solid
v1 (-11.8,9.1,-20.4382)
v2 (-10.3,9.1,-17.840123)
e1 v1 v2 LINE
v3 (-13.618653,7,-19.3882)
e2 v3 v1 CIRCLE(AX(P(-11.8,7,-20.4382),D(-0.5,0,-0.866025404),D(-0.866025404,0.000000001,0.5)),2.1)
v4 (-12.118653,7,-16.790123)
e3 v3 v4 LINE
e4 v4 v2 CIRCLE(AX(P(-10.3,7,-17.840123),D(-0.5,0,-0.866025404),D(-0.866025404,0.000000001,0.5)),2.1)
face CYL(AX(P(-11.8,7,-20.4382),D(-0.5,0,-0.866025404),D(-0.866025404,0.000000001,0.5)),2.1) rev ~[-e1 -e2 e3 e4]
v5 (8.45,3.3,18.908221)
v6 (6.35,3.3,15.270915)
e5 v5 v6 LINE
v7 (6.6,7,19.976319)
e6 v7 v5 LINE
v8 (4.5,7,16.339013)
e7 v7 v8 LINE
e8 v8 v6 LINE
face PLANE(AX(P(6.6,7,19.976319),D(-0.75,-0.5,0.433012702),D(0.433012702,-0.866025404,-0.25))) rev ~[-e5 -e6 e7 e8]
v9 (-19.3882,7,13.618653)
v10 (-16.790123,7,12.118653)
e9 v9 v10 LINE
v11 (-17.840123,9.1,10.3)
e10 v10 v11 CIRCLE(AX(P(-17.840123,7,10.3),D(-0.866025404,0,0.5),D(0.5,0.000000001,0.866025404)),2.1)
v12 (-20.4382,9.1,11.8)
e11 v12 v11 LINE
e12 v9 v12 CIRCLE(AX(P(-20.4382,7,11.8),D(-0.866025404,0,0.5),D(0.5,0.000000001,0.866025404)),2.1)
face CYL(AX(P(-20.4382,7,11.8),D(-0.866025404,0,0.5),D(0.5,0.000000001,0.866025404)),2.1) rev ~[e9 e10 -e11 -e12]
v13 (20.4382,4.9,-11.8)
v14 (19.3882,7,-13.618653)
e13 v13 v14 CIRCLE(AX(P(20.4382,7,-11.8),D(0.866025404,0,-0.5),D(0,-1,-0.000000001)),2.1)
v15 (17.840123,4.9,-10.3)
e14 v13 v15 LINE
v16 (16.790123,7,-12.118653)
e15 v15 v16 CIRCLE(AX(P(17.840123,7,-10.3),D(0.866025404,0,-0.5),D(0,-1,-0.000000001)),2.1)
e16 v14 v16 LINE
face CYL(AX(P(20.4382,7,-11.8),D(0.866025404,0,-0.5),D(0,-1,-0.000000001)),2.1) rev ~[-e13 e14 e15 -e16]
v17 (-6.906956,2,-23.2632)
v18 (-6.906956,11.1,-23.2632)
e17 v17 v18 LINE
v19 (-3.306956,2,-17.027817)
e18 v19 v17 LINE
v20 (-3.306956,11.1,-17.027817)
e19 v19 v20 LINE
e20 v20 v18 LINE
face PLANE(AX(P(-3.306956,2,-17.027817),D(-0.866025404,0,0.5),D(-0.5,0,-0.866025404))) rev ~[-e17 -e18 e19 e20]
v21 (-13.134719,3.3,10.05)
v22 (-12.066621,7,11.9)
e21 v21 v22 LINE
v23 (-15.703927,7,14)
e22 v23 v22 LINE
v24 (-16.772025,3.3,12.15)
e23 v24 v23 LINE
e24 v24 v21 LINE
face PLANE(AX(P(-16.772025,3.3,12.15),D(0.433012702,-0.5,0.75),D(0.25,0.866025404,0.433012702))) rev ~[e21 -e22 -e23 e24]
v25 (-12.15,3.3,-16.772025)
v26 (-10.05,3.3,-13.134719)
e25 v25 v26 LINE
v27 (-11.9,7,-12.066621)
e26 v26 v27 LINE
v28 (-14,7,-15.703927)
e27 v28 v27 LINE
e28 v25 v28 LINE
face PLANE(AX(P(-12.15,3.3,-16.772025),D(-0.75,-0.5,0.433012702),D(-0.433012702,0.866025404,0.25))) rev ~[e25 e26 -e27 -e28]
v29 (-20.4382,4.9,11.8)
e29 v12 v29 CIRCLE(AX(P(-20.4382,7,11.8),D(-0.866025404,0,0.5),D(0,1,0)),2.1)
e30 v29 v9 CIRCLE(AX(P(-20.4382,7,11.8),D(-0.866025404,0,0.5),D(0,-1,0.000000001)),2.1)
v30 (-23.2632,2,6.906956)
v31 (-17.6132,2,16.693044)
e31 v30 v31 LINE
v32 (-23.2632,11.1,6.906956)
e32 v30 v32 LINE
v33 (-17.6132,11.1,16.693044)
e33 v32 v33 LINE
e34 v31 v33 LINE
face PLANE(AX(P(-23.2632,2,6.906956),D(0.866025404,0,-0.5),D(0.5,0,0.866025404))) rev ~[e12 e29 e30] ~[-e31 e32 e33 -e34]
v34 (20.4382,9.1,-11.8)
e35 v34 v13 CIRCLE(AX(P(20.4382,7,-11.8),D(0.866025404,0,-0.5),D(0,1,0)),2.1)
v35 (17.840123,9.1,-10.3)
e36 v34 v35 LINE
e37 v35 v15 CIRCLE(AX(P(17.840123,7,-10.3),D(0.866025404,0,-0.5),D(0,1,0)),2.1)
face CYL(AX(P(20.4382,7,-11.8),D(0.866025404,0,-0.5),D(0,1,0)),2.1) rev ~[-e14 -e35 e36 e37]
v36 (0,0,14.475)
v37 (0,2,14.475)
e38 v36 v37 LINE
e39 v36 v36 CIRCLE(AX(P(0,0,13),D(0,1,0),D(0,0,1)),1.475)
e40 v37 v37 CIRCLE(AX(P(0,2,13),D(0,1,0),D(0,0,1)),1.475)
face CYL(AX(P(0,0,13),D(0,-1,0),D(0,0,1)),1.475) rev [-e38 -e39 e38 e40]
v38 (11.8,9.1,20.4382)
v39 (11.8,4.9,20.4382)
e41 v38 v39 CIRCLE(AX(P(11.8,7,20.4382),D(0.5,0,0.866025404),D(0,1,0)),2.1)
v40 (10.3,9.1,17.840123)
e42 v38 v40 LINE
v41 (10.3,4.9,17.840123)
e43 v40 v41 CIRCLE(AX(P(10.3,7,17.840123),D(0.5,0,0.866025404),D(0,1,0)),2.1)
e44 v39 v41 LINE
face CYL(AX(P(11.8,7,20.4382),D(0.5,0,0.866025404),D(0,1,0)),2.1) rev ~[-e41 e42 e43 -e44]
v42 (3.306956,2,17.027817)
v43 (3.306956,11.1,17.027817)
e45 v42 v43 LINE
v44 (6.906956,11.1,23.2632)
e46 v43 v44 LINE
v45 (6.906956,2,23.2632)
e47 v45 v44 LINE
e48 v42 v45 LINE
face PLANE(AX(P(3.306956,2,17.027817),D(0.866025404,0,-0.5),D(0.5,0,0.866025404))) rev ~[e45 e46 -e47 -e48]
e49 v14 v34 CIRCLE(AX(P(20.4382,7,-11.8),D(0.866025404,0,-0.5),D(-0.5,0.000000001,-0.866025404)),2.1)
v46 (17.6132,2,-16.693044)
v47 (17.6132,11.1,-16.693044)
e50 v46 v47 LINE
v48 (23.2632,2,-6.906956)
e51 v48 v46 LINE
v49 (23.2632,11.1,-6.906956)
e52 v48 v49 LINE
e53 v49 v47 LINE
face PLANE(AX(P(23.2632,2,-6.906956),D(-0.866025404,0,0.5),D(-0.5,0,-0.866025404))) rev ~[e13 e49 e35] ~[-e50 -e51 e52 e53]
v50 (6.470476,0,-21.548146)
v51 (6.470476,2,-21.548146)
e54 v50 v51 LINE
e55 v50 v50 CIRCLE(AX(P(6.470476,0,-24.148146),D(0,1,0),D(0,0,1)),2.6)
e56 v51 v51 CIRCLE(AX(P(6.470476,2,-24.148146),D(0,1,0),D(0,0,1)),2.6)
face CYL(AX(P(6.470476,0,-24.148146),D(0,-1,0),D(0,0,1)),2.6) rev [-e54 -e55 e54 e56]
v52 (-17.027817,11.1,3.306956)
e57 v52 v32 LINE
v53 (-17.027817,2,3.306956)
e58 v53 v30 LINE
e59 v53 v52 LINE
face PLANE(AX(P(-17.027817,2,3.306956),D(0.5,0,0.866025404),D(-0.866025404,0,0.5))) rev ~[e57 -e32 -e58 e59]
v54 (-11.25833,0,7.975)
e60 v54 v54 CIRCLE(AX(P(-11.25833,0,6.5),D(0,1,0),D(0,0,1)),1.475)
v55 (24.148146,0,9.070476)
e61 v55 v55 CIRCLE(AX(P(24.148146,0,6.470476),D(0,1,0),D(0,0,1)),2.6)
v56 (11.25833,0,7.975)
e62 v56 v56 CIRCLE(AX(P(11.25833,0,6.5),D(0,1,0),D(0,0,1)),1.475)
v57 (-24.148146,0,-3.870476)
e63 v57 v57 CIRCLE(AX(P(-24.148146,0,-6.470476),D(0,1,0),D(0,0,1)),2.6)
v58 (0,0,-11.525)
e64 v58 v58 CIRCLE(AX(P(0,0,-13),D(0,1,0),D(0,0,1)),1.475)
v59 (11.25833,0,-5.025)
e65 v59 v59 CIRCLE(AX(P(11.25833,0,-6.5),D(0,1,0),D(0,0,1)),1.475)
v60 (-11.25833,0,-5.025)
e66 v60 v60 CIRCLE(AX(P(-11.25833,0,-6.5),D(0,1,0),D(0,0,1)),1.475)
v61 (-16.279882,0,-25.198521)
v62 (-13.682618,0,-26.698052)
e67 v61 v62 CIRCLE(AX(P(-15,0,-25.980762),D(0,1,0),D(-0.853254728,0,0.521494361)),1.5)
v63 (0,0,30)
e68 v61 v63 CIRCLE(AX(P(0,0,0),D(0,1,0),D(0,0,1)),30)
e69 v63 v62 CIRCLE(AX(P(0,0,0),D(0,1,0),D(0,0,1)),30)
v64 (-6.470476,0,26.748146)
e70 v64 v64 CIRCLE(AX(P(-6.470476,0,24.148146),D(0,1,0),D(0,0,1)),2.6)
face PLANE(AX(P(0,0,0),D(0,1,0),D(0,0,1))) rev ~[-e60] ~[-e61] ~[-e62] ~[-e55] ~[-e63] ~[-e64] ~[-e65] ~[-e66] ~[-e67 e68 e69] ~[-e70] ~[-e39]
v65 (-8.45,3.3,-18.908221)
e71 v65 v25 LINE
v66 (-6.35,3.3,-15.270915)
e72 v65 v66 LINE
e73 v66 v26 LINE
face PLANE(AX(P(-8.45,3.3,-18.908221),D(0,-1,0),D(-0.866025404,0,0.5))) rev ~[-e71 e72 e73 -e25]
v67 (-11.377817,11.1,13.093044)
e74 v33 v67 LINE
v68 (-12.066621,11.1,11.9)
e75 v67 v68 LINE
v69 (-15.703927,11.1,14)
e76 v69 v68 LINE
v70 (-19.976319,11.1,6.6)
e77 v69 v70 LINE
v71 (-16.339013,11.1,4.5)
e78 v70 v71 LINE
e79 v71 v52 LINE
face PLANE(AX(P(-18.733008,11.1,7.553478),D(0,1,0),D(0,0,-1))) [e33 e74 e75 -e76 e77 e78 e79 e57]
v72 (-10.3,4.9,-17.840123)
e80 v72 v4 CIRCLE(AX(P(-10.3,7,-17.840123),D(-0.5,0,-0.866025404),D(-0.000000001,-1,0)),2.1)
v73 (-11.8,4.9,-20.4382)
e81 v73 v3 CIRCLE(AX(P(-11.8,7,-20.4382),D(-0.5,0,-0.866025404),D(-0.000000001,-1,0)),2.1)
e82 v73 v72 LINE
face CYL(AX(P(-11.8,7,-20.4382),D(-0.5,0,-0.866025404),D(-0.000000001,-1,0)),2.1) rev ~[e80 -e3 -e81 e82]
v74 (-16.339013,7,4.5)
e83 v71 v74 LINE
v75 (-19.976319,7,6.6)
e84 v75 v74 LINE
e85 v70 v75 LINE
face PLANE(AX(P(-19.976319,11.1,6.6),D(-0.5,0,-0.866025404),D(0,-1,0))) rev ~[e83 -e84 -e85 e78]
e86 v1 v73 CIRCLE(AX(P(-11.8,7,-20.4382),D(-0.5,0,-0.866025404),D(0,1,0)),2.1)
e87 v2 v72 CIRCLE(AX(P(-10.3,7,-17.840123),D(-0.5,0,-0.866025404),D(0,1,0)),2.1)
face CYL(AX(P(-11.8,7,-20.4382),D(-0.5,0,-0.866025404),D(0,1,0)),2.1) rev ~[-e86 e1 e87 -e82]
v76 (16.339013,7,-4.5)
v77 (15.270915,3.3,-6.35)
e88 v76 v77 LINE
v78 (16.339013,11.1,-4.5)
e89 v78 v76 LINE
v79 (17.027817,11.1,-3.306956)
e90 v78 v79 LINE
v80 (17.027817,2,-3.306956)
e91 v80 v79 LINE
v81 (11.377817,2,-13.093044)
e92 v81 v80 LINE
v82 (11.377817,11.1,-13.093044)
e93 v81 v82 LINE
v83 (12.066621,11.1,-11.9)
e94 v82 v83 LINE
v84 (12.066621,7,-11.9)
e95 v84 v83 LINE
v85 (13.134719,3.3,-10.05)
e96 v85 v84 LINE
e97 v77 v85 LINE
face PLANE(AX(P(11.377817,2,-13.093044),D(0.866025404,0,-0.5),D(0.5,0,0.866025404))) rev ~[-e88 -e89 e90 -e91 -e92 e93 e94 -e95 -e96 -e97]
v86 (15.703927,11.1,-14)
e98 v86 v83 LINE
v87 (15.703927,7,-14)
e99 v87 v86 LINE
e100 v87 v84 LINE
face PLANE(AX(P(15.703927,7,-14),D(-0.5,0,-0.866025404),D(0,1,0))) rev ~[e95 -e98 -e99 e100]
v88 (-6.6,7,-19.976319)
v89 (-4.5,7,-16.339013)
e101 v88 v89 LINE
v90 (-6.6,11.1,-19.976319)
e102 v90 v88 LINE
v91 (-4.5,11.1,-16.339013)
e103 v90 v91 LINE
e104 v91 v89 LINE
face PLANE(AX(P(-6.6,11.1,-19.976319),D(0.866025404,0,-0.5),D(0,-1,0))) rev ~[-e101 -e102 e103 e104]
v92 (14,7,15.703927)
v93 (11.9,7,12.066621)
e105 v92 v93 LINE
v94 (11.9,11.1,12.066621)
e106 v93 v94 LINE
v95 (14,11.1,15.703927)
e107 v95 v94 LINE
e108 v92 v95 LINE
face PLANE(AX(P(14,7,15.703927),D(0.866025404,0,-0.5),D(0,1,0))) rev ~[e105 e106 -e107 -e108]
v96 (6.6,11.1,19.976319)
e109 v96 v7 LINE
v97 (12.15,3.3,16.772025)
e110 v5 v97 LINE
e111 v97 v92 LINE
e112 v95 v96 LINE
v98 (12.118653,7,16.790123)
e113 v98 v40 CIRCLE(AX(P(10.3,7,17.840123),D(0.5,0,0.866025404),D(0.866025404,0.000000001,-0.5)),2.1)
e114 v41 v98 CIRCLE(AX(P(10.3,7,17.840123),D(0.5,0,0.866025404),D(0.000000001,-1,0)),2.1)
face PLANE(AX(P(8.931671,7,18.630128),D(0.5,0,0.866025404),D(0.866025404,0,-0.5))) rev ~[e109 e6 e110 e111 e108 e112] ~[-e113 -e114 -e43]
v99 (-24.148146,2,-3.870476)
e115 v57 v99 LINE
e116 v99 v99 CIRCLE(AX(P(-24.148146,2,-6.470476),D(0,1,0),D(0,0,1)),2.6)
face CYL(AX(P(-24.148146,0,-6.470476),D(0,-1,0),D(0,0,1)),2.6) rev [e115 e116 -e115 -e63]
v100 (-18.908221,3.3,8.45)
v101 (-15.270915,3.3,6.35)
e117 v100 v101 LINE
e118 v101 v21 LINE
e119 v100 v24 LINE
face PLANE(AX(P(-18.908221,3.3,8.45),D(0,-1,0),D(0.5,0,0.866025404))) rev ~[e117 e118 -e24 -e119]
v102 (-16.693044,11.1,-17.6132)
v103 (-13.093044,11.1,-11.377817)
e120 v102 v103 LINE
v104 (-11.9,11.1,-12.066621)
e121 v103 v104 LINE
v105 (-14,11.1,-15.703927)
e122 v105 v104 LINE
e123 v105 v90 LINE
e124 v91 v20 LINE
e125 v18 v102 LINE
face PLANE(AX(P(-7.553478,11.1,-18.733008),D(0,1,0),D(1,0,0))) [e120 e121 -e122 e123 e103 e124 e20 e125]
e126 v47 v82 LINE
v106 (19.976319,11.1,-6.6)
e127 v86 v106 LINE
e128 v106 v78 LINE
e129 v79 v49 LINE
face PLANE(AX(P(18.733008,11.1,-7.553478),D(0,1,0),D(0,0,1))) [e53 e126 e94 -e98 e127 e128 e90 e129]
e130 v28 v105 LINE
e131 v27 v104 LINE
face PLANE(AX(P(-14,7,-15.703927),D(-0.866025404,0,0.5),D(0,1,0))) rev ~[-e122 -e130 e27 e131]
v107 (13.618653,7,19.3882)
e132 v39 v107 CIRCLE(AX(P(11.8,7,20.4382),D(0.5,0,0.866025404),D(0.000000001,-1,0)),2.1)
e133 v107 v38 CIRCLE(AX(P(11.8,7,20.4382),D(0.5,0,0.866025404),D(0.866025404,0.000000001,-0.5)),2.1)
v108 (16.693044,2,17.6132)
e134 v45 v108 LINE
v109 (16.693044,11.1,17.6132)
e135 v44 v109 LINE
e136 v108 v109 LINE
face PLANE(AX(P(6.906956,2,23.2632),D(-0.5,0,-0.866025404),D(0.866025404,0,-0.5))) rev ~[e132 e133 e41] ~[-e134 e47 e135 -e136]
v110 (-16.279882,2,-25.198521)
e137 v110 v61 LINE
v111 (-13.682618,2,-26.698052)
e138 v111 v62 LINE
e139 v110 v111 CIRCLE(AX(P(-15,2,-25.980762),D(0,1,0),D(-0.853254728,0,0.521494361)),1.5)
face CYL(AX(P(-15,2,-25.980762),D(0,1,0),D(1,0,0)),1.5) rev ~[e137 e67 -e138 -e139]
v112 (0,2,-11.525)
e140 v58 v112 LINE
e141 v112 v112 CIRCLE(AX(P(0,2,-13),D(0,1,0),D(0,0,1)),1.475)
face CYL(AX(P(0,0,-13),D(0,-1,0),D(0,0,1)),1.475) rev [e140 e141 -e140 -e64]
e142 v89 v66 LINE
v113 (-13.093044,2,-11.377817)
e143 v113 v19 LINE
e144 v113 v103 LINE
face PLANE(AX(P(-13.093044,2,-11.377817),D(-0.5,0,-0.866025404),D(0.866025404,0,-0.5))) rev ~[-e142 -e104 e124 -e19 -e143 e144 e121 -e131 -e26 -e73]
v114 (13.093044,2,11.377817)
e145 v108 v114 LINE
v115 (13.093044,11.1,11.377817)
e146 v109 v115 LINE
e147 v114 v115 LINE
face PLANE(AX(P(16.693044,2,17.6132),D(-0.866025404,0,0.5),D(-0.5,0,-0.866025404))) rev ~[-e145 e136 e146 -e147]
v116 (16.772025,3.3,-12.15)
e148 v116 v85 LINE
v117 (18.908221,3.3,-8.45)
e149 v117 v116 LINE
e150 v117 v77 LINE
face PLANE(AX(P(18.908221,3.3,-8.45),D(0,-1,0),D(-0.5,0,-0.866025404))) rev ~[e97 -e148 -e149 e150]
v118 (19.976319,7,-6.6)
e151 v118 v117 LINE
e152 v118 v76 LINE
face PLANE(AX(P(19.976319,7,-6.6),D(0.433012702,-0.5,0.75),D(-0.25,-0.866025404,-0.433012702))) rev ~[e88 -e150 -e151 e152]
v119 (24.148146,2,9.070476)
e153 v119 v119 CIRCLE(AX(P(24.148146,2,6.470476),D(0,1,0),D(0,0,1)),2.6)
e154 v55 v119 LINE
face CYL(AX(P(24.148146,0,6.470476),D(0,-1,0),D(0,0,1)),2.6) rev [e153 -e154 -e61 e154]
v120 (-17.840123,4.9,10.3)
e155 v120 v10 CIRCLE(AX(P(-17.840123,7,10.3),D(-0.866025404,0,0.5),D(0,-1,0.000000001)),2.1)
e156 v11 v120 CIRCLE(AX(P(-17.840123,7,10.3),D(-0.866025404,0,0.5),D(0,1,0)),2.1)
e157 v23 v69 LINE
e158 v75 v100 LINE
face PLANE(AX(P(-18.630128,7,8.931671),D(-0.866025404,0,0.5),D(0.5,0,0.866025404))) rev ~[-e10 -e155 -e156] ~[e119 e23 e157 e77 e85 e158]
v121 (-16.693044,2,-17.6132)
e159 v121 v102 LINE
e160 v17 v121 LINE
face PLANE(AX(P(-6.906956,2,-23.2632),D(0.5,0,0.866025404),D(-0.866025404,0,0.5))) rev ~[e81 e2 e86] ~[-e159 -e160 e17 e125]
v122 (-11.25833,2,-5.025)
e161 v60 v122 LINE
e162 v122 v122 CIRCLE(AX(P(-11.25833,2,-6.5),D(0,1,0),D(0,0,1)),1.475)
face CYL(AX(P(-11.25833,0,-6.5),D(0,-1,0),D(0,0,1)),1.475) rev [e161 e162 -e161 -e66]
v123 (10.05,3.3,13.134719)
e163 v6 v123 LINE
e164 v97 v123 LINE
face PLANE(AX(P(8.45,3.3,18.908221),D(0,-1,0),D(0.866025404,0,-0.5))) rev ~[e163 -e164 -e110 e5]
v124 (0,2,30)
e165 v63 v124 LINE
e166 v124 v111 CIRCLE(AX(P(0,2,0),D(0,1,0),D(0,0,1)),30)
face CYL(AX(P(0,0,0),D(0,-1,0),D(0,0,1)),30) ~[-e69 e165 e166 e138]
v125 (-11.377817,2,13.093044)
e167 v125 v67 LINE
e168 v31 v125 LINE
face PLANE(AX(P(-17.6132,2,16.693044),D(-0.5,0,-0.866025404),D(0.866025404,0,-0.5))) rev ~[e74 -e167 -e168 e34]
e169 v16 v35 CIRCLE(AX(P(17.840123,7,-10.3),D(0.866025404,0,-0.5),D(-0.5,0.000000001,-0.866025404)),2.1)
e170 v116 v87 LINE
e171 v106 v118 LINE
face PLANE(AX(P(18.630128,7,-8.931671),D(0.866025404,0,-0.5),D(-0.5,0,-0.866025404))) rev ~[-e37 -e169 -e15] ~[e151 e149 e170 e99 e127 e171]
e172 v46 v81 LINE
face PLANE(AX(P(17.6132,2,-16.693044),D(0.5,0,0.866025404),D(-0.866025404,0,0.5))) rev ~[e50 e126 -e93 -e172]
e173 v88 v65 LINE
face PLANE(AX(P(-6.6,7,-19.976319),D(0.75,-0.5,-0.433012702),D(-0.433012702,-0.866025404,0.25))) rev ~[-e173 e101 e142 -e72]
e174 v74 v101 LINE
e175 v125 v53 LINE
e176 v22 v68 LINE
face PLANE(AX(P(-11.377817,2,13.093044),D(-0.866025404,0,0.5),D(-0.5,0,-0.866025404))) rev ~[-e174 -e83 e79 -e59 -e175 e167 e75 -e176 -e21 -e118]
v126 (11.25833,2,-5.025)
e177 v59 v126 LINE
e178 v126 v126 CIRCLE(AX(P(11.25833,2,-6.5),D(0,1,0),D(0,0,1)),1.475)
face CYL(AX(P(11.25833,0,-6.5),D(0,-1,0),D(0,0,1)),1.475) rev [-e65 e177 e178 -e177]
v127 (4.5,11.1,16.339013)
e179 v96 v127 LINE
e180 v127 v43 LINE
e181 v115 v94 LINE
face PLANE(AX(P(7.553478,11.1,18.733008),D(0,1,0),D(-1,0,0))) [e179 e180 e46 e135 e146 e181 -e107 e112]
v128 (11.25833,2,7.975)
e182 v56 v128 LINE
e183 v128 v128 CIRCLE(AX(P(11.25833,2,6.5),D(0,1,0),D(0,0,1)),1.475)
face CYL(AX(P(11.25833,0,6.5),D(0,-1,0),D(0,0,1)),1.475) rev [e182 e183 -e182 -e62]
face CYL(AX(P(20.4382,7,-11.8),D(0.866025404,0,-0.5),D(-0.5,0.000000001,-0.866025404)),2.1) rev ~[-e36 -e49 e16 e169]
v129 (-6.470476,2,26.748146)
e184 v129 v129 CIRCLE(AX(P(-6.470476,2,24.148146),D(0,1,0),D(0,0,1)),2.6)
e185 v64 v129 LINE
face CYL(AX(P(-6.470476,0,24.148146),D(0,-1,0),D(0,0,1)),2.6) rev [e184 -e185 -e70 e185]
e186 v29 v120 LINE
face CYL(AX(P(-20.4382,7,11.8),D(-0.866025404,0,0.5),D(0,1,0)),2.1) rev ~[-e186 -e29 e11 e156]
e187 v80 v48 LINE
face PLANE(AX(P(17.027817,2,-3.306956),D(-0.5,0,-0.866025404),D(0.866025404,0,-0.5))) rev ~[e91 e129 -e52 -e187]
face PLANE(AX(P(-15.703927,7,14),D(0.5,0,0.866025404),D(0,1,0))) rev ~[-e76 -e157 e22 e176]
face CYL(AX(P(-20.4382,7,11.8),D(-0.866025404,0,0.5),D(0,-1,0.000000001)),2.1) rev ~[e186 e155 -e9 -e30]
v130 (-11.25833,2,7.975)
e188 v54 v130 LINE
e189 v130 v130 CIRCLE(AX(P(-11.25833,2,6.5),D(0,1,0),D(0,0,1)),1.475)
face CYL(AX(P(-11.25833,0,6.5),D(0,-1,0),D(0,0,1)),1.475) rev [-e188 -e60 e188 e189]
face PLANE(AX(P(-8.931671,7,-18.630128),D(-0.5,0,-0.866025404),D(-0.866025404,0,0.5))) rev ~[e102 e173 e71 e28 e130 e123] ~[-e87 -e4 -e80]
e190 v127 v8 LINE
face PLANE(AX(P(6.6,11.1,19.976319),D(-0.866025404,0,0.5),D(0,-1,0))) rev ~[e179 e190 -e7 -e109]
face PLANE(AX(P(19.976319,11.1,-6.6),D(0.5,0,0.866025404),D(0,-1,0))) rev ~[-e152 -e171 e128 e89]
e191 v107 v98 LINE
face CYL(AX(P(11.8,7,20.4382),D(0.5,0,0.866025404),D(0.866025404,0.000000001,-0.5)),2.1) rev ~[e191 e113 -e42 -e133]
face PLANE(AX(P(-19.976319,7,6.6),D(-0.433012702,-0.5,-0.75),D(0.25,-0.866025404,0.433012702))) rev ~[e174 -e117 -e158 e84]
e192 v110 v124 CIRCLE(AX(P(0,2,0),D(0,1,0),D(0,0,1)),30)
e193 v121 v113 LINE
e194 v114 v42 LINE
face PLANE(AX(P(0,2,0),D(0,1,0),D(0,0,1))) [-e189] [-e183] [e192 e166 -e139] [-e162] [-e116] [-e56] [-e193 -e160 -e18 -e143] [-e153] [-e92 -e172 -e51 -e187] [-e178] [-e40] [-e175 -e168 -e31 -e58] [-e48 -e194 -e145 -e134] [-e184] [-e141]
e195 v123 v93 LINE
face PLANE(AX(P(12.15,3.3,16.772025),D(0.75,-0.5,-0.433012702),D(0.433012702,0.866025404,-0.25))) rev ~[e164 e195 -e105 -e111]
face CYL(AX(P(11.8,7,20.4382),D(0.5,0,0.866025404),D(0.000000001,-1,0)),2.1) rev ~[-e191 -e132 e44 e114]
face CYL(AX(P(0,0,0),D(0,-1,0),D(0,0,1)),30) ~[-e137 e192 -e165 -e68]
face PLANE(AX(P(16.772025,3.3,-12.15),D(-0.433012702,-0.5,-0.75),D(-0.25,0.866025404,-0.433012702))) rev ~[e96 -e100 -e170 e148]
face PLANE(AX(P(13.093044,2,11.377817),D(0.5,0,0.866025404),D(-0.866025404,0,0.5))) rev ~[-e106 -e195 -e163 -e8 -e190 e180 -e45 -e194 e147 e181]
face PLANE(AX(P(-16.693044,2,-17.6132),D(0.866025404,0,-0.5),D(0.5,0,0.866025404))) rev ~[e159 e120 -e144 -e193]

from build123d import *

# Parameters (mm, degrees)
SKETCH1_R           = 30
SKETCH1_R_2         = 1.475
SKETCH1_R_3         = 2.6
BOSS_EXTRUDE1_DEPTH = 2
SKETCH2_R           = 1.5
CUT_EXTRUDE1_DEPTH  = 10
BOSS_EXTRUDE3_DEPTH = 9.1
CIRPATTERN1_COUNT   = 4
CUT_EXTRUDE2_START  = -3
CUT_EXTRUDE2_DEPTH  = 5
CUT_EXTRUDE3_DEPTH  = 15
CIRPATTERN2_COUNT   = 4
CIRPATTERN3_COUNT   = 4


with BuildPart() as part:
    # Sketch1 → Boss-Extrude1 (new body)
    with BuildSketch(Plane(origin=(0, 0, 0), x_dir=(1, 0, 0), z_dir=(0, 1, 0))):
        with Locations(Location((0, 0, 0), (0, 0, 270))):
            Circle(SKETCH1_R)
        with Locations(Location((0, 13, 0), (0, 0, 270))):
            Circle(SKETCH1_R_2, mode=Mode.SUBTRACT)
        with Locations(Location((11.258330249, 6.5, 0), (0, 0, 270))):
            Circle(SKETCH1_R_2, mode=Mode.SUBTRACT)
        with Locations(Location((11.258330249, -6.5, 0), (0, 0, 270))):
            Circle(SKETCH1_R_2, mode=Mode.SUBTRACT)
        with Locations(Location((0, -13, 0), (0, 0, 270))):
            Circle(SKETCH1_R_2, mode=Mode.SUBTRACT)
        with Locations(Location((-11.258330249, -6.5, 0), (0, 0, 270))):
            Circle(SKETCH1_R_2, mode=Mode.SUBTRACT)
        with Locations(Location((-11.258330249, 6.5, 0), (0, 0, 270))):
            Circle(SKETCH1_R_2, mode=Mode.SUBTRACT)
        with Locations(Location((-24.148145657, 6.470476128, 0), (0, 0, 270))):
            Circle(SKETCH1_R_3, mode=Mode.SUBTRACT)
        with Locations(Location((6.470476128, 24.148145657, 0), (0, 0, 270))):
            Circle(SKETCH1_R_3, mode=Mode.SUBTRACT)
        with Locations(Location((24.148145657, -6.470476128, 0), (0, 0, 270))):
            Circle(SKETCH1_R_3, mode=Mode.SUBTRACT)
        with Locations(Location((-6.470476128, -24.148145657, 0), (0, 0, 270))):
            Circle(SKETCH1_R_3, mode=Mode.SUBTRACT)
    extrude(amount=BOSS_EXTRUDE1_DEPTH)

    # Sketch2 → Cut-Extrude1 (cut)
    with BuildSketch(Plane(origin=(0, 2, 0), x_dir=(1, 0, 0), z_dir=(0, 1, 0))):
        with Locations((-15, 25.980762114)):
            Circle(SKETCH2_R)
    extrude(amount=-CUT_EXTRUDE1_DEPTH, mode=Mode.SUBTRACT)

    # Sketch8 → Boss-Extrude3 (add)
    with BuildSketch(Plane(origin=(0, 2, 0), x_dir=(1, 0, 0), z_dir=(0, 1, 0))):
        Polygon((-6.906956469, 23.263199529), (-11.8, 20.438199529), (-8.2, 14.202816622), (-3.306956469, 17.027816622), align=None)
        Polygon((-8.2, 14.202816622), (-11.8, 20.438199529), (-16.693043531, 17.613199529), (-13.093043531, 11.377816622), align=None)
    boss_extrude3 = extrude(amount=BOSS_EXTRUDE3_DEPTH)

    # CirPattern1: Boss-Extrude3 ×4 about axis
    cirpattern1_axis = Axis((0, 0, 0), (0, 1, 0))
    for i in range(1, CIRPATTERN1_COUNT):
        add(boss_extrude3.rotate(cirpattern1_axis, i * 360 / CIRPATTERN1_COUNT))

    # Sketch9 → Cut-Extrude2 (cut)
    with BuildSketch(Plane(origin=(-11.8, 0, -20.438199529), x_dir=(-0.8660254037844384, 0, 0.5000000000000006), z_dir=(-0.5000000000000006, 0, -0.8660254037844384)).offset(CUT_EXTRUDE2_START)):
        Polygon((0, 3.3), (0, 10.7), (-2.136195996, 10.7), (-4.272391992, 7), (-2.136195996, 3.3), align=None)
        Polygon((2.136195996, 10.7), (0, 10.7), (0, 3.3), (2.136195996, 3.3), (4.272391992, 7), align=None)
        Polygon((0, 10.7), (0, 11.1), (-4.272391992, 11.1), (-4.272391992, 7), (-2.136195996, 10.7), align=None)
        Polygon((4.272391992, 11.1), (0, 11.1), (0, 10.7), (2.136195996, 10.7), (4.272391992, 7), align=None)
    cut_extrude2 = extrude(amount=-CUT_EXTRUDE2_DEPTH, mode=Mode.SUBTRACT)

    # Sketch10 → Cut-Extrude3 (cut)
    with BuildSketch(Plane(origin=(-11.8, 0, -20.438199529), x_dir=(-0.8660254037844384, 0, 0.5000000000000006), z_dir=(-0.5000000000000006, 0, -0.8660254037844384))):
        with BuildLine():
            ThreePointArc((2.1, 7), (1.48492424, 8.48492424), (0, 9.1))
            Line((0, 9.1), (0, 4.9))
            ThreePointArc((0, 4.9), (1.48492424, 5.51507576), (2.1, 7))
        make_face()
        with BuildLine():
            Line((0, 4.9), (0, 9.1))
            ThreePointArc((0, 9.1), (-2.1, 7), (0, 4.9))
        make_face()
    cut_extrude3 = extrude(amount=-CUT_EXTRUDE3_DEPTH, mode=Mode.SUBTRACT)

    # CirPattern2: Cut-Extrude2 ×4 about axis
    cirpattern2_axis = Axis((0, 0, 0), (0, 1, 0))
    for i in range(1, CIRPATTERN2_COUNT):
        add(cut_extrude2.rotate(cirpattern2_axis, i * 360 / CIRPATTERN2_COUNT), mode=Mode.SUBTRACT)

    # CirPattern3: Cut-Extrude3 ×4 about axis
    cirpattern3_axis = Axis((0, 2, 0), (0, 1, 0))
    for i in range(1, CIRPATTERN3_COUNT):
        add(cut_extrude3.rotate(cirpattern3_axis, i * 360 / CIRPATTERN3_COUNT), mode=Mode.SUBTRACT)


solid = part.part
